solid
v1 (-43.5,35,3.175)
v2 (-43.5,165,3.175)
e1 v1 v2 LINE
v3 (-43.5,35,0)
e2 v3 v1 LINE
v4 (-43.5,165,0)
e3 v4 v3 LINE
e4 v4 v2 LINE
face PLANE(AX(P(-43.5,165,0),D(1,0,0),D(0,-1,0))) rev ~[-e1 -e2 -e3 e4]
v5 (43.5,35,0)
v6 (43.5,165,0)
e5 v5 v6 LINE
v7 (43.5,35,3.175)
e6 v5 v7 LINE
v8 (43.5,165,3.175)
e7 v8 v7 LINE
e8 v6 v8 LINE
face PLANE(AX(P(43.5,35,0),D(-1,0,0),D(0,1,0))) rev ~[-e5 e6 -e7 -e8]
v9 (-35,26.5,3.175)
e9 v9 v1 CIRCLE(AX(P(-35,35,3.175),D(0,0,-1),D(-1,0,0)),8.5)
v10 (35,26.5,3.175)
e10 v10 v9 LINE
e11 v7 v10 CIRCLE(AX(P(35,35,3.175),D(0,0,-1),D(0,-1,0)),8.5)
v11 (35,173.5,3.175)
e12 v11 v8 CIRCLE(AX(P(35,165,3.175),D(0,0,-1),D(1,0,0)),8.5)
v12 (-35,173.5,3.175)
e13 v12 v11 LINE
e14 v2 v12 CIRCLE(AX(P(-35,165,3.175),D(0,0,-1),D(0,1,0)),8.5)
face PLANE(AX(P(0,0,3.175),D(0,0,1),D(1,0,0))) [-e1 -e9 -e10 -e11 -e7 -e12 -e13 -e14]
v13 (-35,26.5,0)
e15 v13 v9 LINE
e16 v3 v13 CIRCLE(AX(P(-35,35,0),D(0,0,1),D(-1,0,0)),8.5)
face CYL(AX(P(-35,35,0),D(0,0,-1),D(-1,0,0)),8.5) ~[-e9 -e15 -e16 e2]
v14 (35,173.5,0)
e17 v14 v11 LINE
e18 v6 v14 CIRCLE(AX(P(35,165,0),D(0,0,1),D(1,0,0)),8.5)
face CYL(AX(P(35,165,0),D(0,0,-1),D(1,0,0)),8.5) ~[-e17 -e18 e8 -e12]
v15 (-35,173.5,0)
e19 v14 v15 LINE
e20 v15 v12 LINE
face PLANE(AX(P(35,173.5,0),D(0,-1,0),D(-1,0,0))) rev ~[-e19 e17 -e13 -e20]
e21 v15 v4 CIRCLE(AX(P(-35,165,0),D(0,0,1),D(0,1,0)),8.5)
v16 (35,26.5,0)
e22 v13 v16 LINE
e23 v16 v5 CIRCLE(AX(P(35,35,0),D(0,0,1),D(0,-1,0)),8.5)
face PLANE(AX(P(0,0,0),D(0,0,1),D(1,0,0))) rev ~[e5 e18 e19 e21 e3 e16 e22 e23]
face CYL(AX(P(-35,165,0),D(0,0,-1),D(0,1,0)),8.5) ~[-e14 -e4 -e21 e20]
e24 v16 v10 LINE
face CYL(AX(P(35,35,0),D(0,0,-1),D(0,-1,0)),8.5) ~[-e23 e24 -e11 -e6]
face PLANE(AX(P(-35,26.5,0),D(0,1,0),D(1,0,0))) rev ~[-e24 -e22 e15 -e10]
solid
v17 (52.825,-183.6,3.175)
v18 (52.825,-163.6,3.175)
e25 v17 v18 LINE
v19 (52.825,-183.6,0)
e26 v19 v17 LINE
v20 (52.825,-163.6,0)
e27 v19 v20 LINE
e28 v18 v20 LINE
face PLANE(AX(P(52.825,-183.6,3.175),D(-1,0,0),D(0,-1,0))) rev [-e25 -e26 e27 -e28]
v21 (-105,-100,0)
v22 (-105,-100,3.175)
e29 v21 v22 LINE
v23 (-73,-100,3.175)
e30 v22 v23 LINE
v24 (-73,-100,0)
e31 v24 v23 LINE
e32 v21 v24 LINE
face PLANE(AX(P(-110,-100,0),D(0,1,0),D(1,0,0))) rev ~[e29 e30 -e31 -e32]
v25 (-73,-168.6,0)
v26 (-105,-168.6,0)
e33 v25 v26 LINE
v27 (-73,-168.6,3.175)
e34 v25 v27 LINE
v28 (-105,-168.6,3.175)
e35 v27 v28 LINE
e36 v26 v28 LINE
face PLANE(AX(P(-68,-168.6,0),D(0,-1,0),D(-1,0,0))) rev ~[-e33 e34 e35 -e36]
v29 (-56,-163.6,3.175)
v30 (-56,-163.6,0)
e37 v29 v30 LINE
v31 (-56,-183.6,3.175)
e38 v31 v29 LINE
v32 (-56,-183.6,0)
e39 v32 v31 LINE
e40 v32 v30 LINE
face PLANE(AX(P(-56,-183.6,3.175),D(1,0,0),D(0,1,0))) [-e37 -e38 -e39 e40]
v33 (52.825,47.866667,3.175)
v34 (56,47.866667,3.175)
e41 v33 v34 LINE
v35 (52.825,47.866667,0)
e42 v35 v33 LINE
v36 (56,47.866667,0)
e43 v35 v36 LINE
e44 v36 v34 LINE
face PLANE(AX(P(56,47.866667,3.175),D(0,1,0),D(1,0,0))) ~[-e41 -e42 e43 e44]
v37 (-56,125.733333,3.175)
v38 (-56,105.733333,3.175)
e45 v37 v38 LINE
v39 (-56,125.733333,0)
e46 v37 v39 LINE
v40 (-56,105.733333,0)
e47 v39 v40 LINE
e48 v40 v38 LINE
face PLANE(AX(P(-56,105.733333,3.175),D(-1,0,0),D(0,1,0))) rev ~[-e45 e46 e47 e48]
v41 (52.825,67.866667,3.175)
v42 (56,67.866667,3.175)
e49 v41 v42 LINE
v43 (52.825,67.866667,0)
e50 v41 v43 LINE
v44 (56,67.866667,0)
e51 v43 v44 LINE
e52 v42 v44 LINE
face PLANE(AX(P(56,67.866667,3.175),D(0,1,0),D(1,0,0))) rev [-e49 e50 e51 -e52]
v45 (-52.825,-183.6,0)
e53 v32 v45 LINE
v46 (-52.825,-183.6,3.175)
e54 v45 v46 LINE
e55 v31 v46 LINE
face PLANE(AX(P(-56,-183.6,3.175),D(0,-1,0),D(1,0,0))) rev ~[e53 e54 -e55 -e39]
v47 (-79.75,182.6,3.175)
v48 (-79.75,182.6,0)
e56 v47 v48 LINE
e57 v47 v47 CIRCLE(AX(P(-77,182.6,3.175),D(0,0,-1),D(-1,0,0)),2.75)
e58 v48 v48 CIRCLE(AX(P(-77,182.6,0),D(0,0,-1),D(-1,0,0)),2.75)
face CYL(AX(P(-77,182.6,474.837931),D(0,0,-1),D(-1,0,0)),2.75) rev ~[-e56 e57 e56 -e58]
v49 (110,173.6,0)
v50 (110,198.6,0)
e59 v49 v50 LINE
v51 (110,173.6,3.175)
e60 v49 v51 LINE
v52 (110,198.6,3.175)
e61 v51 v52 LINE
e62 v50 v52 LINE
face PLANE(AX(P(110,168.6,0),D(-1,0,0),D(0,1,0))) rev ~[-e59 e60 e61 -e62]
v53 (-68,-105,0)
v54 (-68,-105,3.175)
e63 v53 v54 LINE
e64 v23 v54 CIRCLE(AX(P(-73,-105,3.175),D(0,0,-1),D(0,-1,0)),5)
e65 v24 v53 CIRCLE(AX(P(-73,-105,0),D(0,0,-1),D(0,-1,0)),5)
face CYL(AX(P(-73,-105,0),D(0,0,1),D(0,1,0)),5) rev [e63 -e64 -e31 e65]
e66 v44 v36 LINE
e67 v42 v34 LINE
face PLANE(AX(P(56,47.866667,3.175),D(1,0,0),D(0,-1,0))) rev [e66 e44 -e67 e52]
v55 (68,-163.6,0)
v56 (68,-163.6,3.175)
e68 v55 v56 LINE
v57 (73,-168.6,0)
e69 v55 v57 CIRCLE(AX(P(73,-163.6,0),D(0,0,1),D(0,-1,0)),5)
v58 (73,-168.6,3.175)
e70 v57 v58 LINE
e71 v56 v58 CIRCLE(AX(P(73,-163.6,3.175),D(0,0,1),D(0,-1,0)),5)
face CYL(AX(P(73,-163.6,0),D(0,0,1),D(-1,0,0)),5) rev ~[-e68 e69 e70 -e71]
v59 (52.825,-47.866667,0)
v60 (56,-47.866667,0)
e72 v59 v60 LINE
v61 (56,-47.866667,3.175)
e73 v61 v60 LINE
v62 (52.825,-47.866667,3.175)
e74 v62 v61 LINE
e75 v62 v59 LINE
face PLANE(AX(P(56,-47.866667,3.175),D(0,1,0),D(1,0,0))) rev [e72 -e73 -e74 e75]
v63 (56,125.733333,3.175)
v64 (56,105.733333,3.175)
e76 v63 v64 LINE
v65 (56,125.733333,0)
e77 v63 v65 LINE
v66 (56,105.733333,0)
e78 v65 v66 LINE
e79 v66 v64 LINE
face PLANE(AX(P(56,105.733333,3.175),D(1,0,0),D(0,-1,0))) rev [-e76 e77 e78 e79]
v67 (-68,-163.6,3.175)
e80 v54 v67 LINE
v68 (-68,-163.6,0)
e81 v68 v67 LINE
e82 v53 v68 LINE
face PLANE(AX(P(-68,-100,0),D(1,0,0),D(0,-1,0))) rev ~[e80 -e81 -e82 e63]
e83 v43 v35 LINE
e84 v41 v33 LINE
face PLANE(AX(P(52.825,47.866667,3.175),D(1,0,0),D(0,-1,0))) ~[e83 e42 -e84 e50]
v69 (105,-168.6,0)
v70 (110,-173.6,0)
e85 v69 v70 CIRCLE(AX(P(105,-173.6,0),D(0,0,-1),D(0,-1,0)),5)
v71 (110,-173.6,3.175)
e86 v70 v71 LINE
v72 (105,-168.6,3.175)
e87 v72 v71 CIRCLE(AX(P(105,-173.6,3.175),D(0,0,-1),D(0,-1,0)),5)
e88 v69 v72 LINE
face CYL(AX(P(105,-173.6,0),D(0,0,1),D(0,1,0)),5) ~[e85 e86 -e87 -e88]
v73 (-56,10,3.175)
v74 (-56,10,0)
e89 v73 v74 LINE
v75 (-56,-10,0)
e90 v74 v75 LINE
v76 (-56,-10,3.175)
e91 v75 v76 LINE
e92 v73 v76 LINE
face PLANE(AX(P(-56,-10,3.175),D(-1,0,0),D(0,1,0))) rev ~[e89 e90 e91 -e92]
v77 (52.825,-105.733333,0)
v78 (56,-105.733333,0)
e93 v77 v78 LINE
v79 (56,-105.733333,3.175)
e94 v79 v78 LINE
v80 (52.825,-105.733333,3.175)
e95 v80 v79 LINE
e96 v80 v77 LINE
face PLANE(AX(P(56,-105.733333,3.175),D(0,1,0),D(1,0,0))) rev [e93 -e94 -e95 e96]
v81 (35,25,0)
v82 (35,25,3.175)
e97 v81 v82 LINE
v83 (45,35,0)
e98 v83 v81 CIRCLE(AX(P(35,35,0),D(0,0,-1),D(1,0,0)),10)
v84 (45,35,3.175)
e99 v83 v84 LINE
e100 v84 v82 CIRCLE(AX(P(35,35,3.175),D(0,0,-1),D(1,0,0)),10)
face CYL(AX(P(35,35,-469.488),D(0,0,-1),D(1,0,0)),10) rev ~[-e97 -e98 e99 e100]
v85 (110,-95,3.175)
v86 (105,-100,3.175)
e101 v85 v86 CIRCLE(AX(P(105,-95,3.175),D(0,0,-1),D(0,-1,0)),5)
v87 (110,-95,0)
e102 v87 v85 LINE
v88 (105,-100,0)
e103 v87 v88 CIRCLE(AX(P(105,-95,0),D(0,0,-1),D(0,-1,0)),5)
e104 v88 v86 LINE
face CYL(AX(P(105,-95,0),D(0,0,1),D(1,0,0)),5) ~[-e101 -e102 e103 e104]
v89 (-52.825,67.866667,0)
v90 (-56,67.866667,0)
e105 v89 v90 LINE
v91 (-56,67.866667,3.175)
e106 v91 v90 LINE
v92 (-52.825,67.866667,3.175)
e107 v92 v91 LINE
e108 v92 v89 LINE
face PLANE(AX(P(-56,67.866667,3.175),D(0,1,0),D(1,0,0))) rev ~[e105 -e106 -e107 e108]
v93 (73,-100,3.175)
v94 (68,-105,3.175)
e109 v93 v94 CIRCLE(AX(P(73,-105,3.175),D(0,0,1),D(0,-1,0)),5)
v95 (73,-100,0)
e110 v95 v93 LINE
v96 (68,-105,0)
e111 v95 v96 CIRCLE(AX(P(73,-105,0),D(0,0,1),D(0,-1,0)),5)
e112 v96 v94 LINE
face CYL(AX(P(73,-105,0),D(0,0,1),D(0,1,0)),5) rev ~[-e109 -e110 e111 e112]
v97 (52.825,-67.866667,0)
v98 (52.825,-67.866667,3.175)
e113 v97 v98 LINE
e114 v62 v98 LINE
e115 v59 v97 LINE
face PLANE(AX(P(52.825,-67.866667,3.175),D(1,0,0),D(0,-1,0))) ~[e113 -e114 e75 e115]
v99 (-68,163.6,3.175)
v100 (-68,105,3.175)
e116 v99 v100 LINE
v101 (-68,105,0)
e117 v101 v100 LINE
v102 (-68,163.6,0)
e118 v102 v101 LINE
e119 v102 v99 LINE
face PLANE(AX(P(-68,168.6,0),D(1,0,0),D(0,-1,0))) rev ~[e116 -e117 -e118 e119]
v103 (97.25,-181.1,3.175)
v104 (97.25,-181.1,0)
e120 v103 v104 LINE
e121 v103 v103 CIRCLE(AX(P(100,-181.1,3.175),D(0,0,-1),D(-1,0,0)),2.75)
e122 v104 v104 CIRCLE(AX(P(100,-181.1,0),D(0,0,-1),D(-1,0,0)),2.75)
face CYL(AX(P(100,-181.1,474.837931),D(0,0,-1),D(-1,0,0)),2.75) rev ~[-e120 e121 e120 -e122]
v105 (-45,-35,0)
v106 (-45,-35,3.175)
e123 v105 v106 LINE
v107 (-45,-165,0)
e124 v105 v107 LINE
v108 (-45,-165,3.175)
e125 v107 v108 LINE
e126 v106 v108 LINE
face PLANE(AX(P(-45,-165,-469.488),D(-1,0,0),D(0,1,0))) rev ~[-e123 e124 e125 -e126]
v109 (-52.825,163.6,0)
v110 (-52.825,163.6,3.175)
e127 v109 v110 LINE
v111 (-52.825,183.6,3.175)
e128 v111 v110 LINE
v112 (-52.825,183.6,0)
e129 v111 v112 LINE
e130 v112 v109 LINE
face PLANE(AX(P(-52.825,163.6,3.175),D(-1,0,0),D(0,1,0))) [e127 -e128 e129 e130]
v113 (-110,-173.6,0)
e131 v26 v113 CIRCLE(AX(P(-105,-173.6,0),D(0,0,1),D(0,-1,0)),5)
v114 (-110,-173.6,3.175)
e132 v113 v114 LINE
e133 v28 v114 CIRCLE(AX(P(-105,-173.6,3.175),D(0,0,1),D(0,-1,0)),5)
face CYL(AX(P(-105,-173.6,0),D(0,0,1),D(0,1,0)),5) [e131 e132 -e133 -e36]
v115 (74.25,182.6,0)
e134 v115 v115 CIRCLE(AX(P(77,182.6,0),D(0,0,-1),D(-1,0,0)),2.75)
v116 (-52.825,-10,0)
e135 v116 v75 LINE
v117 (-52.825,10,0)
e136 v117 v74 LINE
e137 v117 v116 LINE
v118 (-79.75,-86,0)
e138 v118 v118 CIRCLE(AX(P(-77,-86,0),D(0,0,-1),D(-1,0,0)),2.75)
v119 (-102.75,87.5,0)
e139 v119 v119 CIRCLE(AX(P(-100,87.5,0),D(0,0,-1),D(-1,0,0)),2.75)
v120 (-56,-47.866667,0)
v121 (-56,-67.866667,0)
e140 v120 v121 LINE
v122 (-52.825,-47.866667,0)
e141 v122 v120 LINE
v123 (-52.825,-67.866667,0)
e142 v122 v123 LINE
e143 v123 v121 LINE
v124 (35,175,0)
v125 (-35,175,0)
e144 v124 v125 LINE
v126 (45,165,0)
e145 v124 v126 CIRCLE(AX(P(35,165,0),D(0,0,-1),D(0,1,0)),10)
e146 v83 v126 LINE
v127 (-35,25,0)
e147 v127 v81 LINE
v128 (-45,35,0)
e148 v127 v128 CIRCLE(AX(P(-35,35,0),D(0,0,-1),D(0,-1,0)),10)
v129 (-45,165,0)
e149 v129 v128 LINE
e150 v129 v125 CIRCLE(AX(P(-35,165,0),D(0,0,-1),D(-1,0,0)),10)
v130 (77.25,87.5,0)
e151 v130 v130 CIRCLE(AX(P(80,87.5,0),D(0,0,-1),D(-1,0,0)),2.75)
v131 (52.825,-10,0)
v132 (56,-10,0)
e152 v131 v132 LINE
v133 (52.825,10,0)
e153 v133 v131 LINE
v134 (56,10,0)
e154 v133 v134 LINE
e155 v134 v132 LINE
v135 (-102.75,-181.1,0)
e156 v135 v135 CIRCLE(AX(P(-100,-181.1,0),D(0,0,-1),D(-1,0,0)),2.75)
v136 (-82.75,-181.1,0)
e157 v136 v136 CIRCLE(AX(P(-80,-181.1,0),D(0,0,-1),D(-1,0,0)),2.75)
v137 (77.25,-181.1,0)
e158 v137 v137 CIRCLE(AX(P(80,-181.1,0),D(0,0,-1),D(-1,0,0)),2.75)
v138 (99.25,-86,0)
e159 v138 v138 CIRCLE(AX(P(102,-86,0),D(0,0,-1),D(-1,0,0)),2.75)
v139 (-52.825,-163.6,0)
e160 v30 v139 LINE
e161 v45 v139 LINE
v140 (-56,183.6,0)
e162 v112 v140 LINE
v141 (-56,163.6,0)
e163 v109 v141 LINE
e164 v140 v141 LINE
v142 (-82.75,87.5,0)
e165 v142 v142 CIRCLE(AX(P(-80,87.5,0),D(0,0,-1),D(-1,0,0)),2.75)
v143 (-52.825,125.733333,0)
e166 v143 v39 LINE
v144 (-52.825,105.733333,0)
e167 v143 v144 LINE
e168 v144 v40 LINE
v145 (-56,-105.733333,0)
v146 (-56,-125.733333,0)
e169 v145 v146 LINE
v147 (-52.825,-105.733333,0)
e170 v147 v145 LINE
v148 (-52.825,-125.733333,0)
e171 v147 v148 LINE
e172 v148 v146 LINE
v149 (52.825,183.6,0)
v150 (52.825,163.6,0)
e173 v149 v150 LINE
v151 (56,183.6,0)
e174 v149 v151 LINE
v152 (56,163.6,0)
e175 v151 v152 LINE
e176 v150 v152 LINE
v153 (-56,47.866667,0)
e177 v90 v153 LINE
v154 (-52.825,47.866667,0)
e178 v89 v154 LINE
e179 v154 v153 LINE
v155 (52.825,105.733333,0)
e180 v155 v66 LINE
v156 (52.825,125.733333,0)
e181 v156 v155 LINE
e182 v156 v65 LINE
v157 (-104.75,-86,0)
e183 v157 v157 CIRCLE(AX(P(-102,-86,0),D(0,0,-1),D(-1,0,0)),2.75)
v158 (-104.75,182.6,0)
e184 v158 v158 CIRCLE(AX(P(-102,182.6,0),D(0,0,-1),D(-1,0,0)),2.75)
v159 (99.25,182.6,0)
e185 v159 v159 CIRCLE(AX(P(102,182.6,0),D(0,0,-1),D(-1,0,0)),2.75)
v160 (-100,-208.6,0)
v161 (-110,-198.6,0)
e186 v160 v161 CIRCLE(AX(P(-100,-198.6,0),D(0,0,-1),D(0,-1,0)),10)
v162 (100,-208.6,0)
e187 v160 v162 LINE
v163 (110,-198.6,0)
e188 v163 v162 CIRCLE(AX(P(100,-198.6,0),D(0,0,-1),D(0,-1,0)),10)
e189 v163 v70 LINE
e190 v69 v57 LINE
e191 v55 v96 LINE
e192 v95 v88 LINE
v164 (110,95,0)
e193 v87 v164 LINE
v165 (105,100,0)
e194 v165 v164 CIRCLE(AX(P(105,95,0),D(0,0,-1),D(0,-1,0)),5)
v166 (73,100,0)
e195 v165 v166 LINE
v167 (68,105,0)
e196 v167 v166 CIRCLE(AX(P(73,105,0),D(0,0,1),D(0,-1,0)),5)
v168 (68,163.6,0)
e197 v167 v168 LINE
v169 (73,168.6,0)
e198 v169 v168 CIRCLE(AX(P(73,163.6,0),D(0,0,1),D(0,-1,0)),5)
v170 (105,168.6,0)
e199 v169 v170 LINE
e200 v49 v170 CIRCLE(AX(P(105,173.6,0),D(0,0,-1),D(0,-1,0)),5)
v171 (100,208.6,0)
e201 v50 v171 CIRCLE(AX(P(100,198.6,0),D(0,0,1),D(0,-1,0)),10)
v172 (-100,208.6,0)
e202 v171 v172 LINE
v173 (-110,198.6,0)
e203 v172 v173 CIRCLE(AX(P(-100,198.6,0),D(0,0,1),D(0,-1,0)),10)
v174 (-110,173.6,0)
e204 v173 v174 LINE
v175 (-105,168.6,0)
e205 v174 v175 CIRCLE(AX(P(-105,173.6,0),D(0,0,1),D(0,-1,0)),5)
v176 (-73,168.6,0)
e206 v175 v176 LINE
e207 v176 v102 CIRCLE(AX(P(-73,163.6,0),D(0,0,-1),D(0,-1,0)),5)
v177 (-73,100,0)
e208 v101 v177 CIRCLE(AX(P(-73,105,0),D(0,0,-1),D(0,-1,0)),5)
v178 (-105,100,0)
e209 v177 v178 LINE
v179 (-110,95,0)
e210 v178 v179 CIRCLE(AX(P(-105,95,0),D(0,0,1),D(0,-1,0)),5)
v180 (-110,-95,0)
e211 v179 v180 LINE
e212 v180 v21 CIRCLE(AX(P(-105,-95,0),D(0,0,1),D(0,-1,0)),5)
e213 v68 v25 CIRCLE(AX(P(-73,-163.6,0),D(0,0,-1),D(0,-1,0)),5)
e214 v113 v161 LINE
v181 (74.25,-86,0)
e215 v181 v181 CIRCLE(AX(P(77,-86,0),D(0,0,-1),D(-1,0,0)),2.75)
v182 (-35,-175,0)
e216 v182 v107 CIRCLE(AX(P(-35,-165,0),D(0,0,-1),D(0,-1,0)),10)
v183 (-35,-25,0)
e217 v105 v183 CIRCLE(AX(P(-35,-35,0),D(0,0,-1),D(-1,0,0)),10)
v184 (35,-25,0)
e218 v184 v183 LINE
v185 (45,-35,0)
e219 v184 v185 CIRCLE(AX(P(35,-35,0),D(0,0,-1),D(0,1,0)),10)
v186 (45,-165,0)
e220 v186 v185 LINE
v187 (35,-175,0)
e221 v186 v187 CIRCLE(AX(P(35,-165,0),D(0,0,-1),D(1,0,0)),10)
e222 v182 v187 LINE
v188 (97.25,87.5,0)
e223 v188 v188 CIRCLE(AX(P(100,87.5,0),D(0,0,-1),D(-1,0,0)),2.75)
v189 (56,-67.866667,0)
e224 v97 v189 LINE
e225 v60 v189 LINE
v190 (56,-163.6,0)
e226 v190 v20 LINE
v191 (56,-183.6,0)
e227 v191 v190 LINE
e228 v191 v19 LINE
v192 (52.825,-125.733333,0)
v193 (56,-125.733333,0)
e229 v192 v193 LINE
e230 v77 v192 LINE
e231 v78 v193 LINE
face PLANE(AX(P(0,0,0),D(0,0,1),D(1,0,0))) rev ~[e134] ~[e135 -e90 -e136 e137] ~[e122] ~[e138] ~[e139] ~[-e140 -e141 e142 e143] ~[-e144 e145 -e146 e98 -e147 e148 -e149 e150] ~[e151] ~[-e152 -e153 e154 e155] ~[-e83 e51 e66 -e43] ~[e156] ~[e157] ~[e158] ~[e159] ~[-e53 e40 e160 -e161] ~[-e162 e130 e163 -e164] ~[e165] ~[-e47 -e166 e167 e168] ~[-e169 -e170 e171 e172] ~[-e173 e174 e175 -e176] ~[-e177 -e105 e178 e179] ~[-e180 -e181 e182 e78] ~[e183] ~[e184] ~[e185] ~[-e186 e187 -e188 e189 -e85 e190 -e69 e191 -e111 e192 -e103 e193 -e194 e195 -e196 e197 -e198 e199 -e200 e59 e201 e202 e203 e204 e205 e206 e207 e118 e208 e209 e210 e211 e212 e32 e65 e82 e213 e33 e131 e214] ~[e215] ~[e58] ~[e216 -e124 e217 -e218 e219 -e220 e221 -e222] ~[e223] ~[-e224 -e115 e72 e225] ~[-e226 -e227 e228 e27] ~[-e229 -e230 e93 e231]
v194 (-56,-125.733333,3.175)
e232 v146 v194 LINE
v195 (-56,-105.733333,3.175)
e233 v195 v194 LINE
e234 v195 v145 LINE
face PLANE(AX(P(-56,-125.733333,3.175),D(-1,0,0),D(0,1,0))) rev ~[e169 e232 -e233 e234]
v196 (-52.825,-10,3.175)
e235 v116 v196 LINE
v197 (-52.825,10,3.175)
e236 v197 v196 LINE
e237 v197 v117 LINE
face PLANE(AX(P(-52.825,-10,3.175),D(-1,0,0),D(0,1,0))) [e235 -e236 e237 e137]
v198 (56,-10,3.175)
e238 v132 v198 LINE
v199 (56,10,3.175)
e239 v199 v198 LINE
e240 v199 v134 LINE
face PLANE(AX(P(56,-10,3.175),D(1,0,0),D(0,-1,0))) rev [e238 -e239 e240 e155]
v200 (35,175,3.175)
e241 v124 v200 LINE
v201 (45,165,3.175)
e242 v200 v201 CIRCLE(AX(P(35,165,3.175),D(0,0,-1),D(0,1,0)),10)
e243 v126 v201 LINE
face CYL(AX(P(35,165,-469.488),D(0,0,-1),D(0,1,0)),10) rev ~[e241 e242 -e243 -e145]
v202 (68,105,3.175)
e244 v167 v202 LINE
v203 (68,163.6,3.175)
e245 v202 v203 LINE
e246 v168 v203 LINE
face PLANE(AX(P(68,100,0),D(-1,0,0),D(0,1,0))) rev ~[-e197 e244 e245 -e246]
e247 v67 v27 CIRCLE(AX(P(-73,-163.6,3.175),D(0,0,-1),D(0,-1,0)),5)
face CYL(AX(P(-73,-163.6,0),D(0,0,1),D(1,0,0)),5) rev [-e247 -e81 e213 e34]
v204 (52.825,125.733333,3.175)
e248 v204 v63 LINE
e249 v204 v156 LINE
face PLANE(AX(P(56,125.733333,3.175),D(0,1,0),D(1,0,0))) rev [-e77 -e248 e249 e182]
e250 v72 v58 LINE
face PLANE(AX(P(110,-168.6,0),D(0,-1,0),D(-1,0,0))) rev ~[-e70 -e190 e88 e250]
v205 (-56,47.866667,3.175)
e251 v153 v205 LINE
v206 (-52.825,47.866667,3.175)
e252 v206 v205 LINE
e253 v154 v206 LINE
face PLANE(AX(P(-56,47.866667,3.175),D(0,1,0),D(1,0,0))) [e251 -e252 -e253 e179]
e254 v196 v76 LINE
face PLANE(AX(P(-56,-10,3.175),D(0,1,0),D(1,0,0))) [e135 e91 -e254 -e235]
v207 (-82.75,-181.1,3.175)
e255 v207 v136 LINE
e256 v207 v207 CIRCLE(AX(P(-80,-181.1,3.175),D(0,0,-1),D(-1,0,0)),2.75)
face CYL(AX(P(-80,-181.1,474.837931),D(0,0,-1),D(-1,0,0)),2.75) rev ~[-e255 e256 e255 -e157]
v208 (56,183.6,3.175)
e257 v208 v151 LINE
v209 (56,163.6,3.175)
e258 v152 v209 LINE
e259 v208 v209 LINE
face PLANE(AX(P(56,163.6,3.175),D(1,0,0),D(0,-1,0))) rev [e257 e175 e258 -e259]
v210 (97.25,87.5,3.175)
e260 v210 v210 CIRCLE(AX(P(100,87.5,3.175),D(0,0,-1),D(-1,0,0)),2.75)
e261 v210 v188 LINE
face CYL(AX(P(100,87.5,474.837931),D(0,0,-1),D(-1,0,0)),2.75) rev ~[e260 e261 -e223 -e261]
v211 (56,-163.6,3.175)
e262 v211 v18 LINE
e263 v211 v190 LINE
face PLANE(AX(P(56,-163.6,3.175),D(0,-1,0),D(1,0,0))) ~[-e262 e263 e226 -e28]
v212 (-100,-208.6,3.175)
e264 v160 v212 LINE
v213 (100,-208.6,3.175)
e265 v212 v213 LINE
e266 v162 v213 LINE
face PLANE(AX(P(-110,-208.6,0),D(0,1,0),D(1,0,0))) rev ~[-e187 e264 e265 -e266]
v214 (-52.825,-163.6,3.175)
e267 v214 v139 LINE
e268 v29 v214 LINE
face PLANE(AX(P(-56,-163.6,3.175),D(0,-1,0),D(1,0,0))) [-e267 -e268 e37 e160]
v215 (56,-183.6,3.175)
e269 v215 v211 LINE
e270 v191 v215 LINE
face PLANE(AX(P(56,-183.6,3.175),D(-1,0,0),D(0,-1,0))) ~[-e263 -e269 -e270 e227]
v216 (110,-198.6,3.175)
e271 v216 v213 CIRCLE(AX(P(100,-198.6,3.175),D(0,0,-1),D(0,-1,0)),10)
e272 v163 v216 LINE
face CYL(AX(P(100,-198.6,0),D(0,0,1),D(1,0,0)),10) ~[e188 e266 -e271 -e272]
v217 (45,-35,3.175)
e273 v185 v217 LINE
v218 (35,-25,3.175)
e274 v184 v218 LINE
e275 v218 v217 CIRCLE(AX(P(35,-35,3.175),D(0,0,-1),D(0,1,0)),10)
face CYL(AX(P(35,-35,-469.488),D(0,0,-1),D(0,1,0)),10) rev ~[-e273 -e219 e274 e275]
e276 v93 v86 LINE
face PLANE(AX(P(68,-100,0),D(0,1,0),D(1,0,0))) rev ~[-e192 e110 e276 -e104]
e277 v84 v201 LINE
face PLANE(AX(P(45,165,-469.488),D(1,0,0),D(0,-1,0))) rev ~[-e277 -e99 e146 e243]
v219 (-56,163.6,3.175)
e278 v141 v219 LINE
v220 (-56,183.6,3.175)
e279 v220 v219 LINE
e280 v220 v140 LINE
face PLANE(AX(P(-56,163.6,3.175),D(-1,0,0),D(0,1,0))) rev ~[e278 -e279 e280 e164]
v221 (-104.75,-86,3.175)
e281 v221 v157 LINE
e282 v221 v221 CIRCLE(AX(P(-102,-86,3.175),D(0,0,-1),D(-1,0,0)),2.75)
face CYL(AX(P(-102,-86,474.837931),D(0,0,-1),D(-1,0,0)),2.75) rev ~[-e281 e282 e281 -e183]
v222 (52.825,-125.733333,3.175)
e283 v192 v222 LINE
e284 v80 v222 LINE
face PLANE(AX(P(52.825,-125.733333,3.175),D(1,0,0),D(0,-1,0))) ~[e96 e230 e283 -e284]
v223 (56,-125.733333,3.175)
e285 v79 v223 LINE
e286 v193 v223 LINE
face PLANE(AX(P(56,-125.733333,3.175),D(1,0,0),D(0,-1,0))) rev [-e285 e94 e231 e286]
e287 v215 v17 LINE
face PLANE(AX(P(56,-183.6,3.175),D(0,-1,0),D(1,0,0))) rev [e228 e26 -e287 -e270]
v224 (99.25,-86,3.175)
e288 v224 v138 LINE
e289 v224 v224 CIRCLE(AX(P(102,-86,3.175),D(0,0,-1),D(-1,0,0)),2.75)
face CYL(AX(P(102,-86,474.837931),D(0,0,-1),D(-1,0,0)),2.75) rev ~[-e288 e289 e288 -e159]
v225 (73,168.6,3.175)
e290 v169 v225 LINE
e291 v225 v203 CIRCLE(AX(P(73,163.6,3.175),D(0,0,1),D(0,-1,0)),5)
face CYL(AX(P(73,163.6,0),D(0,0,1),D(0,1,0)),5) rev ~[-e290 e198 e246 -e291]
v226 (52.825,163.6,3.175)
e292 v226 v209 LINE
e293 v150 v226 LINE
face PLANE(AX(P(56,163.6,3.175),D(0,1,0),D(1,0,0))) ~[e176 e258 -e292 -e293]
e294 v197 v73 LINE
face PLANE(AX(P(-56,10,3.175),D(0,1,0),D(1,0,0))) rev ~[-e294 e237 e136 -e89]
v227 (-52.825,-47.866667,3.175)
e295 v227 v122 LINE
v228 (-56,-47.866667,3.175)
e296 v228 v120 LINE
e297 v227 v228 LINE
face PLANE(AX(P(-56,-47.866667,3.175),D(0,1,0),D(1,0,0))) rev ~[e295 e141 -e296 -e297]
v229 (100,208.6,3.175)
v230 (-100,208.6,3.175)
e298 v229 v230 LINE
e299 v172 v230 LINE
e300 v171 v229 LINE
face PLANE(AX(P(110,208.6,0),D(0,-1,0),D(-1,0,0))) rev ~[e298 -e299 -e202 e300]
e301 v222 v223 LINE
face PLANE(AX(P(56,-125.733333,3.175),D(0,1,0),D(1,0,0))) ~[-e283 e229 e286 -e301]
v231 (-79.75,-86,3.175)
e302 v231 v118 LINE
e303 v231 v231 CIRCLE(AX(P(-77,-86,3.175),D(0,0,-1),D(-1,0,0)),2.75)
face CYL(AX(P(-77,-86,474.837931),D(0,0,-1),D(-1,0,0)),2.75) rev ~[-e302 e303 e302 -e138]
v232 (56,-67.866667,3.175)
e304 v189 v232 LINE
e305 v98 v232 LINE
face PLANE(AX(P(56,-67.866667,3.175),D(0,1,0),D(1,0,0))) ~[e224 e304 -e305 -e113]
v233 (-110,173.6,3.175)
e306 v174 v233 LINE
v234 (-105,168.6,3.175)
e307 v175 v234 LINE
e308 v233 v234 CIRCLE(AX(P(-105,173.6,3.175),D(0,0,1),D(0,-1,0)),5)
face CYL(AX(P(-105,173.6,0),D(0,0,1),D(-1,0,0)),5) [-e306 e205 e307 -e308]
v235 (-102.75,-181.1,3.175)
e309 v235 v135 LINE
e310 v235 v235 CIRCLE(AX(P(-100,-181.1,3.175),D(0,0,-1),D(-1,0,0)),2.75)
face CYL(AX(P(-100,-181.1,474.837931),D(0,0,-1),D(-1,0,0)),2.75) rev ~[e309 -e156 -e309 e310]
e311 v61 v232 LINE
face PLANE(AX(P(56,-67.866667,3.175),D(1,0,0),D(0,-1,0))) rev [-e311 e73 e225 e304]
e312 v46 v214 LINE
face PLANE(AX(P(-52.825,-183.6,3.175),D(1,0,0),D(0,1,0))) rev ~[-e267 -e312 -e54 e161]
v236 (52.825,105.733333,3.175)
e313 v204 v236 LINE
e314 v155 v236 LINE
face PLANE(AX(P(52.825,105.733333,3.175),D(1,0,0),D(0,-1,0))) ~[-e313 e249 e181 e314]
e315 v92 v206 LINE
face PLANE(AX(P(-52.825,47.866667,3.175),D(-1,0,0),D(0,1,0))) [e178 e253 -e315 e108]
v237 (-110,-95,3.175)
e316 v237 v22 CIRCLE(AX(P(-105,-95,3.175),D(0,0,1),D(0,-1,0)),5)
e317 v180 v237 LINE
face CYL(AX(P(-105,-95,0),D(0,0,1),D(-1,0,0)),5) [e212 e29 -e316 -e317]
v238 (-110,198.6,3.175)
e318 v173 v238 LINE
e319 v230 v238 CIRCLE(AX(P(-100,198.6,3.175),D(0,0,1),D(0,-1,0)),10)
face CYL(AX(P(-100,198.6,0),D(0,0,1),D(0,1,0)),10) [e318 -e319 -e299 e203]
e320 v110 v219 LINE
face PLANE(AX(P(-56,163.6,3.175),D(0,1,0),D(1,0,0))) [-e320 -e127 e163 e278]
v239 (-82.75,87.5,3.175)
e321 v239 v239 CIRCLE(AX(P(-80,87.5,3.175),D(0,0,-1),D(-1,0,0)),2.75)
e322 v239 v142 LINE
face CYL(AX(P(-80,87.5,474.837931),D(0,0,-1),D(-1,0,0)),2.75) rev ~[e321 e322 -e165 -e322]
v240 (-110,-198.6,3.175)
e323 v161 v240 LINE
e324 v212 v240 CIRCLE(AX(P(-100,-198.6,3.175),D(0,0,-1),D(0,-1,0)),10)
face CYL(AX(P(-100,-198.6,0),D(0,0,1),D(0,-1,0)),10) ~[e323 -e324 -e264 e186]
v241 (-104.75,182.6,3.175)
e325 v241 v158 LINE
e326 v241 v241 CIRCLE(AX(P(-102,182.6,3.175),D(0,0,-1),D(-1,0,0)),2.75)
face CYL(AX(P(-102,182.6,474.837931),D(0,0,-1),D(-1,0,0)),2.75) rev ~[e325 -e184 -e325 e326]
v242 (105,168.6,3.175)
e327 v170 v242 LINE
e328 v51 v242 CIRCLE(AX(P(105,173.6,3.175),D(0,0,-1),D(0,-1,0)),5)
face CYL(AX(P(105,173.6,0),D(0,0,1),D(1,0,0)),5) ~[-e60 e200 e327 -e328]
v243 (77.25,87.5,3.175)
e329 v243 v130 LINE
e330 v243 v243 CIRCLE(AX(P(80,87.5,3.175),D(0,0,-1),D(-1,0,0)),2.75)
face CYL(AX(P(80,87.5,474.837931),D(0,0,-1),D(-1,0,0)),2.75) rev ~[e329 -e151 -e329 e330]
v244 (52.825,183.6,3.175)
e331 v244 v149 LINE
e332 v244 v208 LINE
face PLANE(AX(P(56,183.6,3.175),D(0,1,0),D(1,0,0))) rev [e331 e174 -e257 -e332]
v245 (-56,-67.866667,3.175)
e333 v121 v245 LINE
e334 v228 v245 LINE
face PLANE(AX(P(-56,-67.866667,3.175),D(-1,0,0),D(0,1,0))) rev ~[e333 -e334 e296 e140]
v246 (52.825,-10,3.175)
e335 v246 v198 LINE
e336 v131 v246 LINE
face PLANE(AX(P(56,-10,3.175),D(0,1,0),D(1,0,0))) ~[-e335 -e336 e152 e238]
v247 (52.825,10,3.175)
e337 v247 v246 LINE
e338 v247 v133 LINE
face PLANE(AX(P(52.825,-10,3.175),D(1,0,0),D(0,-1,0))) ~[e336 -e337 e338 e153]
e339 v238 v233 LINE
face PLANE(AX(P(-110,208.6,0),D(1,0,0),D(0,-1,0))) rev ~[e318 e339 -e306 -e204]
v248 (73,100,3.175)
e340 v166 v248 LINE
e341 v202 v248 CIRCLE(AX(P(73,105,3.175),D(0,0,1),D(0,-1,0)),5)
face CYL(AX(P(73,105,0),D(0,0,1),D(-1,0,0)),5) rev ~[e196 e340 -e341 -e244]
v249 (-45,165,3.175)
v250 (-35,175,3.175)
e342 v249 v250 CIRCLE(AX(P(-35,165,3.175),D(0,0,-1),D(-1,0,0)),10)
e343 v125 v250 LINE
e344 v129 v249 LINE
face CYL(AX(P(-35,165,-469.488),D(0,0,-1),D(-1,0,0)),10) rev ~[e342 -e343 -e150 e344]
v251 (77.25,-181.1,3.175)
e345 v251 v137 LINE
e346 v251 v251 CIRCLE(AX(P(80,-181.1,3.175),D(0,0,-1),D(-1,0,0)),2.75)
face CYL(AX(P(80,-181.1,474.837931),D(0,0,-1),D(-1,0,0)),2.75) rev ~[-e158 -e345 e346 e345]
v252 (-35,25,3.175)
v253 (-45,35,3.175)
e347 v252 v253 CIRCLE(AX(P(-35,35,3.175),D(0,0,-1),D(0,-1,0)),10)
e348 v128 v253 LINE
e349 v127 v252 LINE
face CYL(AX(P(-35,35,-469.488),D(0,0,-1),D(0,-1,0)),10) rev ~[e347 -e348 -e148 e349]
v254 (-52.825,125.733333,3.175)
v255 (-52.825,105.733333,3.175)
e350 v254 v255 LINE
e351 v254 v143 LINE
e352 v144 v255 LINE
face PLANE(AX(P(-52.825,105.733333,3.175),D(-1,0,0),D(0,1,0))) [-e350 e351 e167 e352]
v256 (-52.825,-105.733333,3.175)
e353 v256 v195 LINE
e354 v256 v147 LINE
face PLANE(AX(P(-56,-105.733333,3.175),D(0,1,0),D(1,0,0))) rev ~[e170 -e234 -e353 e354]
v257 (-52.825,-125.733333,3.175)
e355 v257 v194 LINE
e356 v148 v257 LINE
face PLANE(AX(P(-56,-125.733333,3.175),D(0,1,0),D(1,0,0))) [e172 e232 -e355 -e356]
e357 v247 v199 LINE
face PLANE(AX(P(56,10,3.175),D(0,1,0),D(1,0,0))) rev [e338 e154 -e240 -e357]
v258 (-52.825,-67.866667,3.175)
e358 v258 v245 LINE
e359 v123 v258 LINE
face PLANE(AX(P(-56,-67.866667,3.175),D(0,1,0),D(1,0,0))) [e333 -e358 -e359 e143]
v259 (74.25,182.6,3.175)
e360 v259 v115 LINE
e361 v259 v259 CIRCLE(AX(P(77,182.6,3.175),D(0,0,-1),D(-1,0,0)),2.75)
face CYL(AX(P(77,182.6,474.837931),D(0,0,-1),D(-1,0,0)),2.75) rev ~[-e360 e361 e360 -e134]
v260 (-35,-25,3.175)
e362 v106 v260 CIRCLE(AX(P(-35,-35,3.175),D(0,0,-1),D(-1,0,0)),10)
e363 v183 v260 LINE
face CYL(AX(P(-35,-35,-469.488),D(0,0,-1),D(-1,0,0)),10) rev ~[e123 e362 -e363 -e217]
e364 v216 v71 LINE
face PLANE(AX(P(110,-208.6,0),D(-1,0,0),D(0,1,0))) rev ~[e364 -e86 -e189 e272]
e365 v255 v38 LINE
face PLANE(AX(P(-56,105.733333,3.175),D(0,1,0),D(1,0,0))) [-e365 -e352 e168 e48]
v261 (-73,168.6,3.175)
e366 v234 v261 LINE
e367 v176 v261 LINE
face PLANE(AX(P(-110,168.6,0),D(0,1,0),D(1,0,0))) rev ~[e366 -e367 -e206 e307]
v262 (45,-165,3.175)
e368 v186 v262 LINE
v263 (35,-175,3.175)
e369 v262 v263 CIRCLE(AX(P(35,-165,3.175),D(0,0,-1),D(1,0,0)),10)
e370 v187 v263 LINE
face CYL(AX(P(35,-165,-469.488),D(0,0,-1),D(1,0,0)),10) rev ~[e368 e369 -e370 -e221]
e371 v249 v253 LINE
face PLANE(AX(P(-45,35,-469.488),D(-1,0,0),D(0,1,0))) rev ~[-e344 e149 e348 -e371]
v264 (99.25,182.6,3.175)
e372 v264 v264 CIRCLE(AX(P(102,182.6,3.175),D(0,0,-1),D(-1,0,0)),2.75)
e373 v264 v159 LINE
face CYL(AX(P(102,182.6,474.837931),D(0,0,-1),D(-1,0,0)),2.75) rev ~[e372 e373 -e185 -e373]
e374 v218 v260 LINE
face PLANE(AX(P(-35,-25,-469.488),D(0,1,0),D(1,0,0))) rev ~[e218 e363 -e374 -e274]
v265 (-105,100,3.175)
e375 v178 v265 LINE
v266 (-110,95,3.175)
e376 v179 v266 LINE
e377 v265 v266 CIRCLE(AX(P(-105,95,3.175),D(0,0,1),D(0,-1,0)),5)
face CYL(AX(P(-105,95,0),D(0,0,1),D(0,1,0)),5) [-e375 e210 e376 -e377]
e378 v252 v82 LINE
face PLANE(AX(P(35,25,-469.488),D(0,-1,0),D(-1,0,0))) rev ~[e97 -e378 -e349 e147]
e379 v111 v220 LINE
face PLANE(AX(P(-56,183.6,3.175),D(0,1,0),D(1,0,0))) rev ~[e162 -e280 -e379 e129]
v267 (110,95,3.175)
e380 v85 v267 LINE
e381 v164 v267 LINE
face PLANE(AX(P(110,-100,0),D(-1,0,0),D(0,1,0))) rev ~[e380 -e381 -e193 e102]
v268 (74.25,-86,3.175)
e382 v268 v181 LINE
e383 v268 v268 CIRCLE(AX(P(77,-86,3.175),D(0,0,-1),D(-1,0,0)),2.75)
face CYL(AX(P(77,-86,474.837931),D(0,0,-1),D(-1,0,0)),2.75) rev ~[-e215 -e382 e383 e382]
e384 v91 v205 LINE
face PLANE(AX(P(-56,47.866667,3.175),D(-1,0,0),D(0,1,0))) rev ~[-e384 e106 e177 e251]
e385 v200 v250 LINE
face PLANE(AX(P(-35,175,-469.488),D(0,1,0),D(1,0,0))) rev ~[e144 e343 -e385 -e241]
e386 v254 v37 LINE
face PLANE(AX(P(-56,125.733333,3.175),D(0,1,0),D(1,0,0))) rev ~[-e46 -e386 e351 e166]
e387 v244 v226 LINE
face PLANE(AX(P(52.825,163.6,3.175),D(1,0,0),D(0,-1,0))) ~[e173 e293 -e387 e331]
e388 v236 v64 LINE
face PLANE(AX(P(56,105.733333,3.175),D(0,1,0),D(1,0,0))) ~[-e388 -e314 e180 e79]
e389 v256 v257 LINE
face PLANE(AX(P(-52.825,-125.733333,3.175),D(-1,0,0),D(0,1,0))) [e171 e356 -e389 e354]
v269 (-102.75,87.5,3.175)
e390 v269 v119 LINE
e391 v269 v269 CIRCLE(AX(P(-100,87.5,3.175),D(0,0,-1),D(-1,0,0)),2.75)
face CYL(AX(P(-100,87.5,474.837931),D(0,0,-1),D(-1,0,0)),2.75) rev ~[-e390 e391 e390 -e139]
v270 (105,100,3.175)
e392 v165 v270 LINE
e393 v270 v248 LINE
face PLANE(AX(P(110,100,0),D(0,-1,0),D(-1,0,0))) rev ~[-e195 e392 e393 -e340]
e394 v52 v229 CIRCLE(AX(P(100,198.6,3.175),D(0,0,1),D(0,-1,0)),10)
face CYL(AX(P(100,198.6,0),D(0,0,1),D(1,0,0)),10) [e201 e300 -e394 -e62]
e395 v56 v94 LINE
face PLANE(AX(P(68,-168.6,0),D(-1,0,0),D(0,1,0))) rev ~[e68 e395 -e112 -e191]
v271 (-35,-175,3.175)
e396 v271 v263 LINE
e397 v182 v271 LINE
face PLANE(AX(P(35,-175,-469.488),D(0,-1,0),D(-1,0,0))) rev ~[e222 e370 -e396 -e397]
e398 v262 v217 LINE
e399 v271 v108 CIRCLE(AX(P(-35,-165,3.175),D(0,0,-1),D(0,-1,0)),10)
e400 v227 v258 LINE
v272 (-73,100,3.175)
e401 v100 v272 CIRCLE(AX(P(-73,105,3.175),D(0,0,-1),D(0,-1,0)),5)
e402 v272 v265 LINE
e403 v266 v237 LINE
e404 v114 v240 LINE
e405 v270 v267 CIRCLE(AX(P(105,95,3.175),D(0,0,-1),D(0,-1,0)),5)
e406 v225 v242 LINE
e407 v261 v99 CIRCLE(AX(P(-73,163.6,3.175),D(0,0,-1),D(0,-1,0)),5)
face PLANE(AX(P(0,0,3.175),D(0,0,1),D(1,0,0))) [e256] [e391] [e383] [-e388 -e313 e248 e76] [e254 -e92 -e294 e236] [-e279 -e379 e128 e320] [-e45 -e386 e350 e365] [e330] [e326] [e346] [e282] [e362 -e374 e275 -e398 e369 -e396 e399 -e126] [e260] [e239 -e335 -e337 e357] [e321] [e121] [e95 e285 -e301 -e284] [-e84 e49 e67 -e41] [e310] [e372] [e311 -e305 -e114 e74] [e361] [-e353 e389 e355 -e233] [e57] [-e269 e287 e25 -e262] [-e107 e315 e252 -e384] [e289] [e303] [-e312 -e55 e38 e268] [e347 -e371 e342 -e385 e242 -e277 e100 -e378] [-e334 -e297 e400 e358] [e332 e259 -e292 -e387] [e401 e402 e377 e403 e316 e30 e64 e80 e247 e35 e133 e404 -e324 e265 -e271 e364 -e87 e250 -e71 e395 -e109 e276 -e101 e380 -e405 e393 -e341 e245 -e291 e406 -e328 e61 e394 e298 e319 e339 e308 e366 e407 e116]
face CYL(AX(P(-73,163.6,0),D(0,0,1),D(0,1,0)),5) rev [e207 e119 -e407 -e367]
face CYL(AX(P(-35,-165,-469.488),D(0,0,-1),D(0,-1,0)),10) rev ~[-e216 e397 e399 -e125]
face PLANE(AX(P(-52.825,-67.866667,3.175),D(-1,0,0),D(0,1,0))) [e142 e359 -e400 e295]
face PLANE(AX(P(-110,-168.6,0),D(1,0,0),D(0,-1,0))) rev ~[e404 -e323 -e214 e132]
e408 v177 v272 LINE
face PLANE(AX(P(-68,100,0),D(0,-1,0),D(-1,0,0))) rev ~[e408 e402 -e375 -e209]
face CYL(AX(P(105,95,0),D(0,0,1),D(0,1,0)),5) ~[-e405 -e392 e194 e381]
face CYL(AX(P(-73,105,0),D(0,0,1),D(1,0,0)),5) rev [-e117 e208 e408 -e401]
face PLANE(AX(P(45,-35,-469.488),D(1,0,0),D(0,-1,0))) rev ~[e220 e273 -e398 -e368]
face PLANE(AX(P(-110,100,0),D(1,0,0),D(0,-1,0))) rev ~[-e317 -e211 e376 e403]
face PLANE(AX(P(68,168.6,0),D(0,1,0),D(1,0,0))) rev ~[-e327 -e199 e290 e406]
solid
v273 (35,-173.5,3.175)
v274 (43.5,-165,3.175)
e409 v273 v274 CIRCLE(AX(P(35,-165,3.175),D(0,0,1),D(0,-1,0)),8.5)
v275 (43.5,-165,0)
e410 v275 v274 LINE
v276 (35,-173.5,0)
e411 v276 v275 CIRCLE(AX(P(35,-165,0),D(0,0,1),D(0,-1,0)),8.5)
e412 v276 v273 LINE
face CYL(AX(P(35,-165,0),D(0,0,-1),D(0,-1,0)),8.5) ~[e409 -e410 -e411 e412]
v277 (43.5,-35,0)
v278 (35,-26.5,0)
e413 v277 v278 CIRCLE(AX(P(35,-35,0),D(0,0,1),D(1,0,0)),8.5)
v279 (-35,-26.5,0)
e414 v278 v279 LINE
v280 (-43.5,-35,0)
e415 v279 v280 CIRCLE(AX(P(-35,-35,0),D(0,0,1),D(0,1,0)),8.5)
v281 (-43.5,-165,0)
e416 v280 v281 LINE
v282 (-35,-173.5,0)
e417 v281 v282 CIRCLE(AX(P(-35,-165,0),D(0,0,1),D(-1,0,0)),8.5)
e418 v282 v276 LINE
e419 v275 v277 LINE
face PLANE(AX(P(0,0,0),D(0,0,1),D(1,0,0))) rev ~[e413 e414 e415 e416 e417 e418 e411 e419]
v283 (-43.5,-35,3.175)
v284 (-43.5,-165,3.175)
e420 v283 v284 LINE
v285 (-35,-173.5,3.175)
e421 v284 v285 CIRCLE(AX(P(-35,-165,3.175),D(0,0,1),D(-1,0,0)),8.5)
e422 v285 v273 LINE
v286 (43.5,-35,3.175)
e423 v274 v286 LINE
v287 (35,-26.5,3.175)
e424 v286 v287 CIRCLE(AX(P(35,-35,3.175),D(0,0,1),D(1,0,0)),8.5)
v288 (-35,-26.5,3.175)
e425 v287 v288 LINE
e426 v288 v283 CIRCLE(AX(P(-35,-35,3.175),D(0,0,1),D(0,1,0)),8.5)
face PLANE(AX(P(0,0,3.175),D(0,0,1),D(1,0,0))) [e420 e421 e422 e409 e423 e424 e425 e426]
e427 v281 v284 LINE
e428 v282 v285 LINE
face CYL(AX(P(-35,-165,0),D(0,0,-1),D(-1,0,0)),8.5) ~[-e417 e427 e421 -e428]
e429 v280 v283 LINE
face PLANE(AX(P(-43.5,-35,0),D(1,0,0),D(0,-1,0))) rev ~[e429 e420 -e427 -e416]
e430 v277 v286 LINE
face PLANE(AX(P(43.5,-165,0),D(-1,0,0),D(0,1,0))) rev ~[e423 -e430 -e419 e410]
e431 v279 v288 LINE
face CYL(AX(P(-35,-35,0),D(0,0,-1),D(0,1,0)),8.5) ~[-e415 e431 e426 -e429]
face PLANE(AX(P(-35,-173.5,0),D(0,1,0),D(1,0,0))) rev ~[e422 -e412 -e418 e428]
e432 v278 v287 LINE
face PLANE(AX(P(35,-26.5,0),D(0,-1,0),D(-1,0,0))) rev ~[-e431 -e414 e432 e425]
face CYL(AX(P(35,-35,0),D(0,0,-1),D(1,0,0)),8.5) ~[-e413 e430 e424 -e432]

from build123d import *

# Parameters (mm, degrees)
BOSS_EXTRU_1_DEPTH       = 3.175
ESQUISSE2_W              = 3.175
ESQUISSE2_H              = 20
ENL_V_MAT_EXTRU_1_DEPTH  = 236.847494422
D_GAGEMENT_M51_D         = 5.5
CONG_1_R                 = 5
CONG_2_R                 = 10
SPLIT1_SURFACE_1_1_BACK  = 472.663
SPLIT1_SURFACE_1_1_DEPTH = 945.326
SPLIT1_SURFACE_1_2_BACK  = 472.663
SPLIT1_SURFACE_1_2_DEPTH = 945.326
SPLIT1_SURFACE_2_3_BACK  = 472.663
SPLIT1_SURFACE_2_3_DEPTH = 945.326
SPLIT1_SURFACE_2_4_BACK  = 472.663
SPLIT1_SURFACE_2_4_DEPTH = 945.326
CUT_EXTRUDE2_DEPTH       = 236.847494422
CUT_EXTRUDE2_DEPTH_BACK  = 3.175
CUT_EXTRUDE3_START       = -3.175
CUT_EXTRUDE3_DEPTH       = 3.175


with BuildPart() as part:
    # Esquisse1 → Boss.-Extru.1 (new body)
    with BuildSketch(Plane.XY):
        Polygon((110, 208.6), (-110, 208.6), (-110, 168.6), (-68, 168.6), (-68, 100), (-110, 100), (-110, -100), (-68, -100), (-68, -168.6), (-110, -168.6), (-110, -208.6), (110, -208.6), (110, -168.6), (68, -168.6), (68, -100), (110, -100), (110, 100), (68, 100), (68, 168.6), (110, 168.6), align=None)
    extrude(amount=BOSS_EXTRU_1_DEPTH)

    # Esquisse2 → Enlèv. mat.-Extru.1 (cut, symmetric)
    with BuildSketch(Plane.XY.offset(3.175)):
        with Locations((-54.4125, 173.6)):
            Rectangle(ESQUISSE2_W, ESQUISSE2_H)
        with Locations((-54.4125, 115.733333333)):
            Rectangle(ESQUISSE2_W, ESQUISSE2_H)
        with Locations((-54.4125, 57.866666667)):
            Rectangle(ESQUISSE2_W, ESQUISSE2_H)
        with Locations((-54.4125, 0)):
            Rectangle(ESQUISSE2_W, ESQUISSE2_H)
        with Locations((-54.4125, -57.866666667)):
            Rectangle(ESQUISSE2_W, ESQUISSE2_H)
        with Locations((-54.4125, -115.733333333)):
            Rectangle(ESQUISSE2_W, ESQUISSE2_H)
        with Locations((-54.4125, -173.6)):
            Rectangle(ESQUISSE2_W, ESQUISSE2_H)
    enl_v_mat_extru_1 = extrude(amount=ENL_V_MAT_EXTRU_1_DEPTH, both=True, mode=Mode.SUBTRACT)

    # Symétrie1: Enlèv. mat.-Extru.1 across plane
    add(enl_v_mat_extru_1.mirror(Plane(origin=(0, 0, 0), x_dir=(0, 0, 1), z_dir=(1, 0, 0))), mode=Mode.SUBTRACT)

    # Dégagement M51 (through all)
    with Locations(Plane(origin=(100, -181.1, 3.175), x_dir=(1, 0, 0), z_dir=(0, 0, 1))):
        with Locations((0, 0), (-20, 0), (-200, 0), (-180, 0), (-202, 95.1), (-177, 95.1), (-23, 95.1), (2, 95.1), (-20, 268.6), (0, 268.6), (-23, 363.7), (2, 363.7), (-200, 268.6), (-180, 268.6), (-202, 363.7), (-177, 363.7)):
            Hole(D_GAGEMENT_M51_D / 2)

    # Congé1
    cong_1_edges = [part.edges().sort_by_distance(p)[0] for p in [
        (110, 168.6, 1.5875),
        (68, 168.6, 1.5875),
        (68, 100, 1.5875),
        (110, 100, 1.5875),
        (110, -100, 1.5875),
        (68, -100, 1.5875),
        (68, -168.6, 1.5875),
        (110, -168.6, 1.5875),
        (-110, -168.6, 1.5875),
        (-68, -168.6, 1.5875),
        (-68, -100, 1.5875),
        (-110, -100, 1.5875),
        (-110, 100, 1.5875),
        (-68, 100, 1.5875),
        (-68, 168.6, 1.5875),
        (-110, 168.6, 1.5875),
    ]]
    fillet(cong_1_edges, radius=CONG_1_R)

    # Congé2
    cong_2_edges = [part.edges().sort_by_distance(p)[0] for p in [
        (110, -208.6, 1.5875),
        (-110, -208.6, 1.5875),
        (-110, 208.6, 1.5875),
        (110, 208.6, 1.5875),
    ]]
    fillet(cong_2_edges, radius=CONG_2_R)


with BuildPart() as body_2:
    # Split1: the piece behind the surface
    add(part.part)
    # Split1 surface 1: a surface, the sketch's curves swept straight by 945.326 mm
    with BuildLine(Plane.XY.offset(3.175).offset(-SPLIT1_SURFACE_1_1_BACK), mode=Mode.PRIVATE) as split1_surface_1_1_path:
        ThreePointArc((35, -25), (42.071067812, -27.928932188), (45, -35))
        Line((45, -35), (45, -165))
        ThreePointArc((45, -165), (42.071067812, -172.071067812), (35, -175))
        Line((35, -175), (-35, -175))
        ThreePointArc((-35, -175), (-42.071067812, -172.071067812), (-45, -165))
        Line((-45, -165), (-45, -35))
        ThreePointArc((-45, -35), (-42.071067812, -27.928932188), (-35, -25))
        Line((-35, -25), (35, -25))
    split1_surface_1_1 = Shell.extrude(split1_surface_1_1_path.wire(), (0 * SPLIT1_SURFACE_1_1_DEPTH, 0 * SPLIT1_SURFACE_1_1_DEPTH, 1 * SPLIT1_SURFACE_1_1_DEPTH))
    split(bisect_by=split1_surface_1_1, keep=Keep.BOTTOM)

    # Sketch6 → Cut-Extrude3 (cut)
    with BuildSketch(Plane.XY.offset(3.175).offset(CUT_EXTRUDE3_START)):
        with BuildLine():
            Line((-45, -35), (-45, -165))
            ThreePointArc((-45, -165), (-42.071067812, -172.071067812), (-35, -175))
            Line((-35, -175), (35, -175))
            ThreePointArc((35, -175), (42.071067812, -172.071067812), (45, -165))
            Line((45, -165), (45, -35))
            ThreePointArc((45, -35), (42.071067812, -27.928932188), (35, -25))
            Line((35, -25), (-35, -25))
            ThreePointArc((-35, -25), (-42.071067812, -27.928932188), (-45, -35))
        make_face()
        with BuildLine():
            Line((-43.5, -35), (-43.5, -165))
            ThreePointArc((-43.5, -165), (-41.01040764, -171.01040764), (-35, -173.5))
            Line((-35, -173.5), (35, -173.5))
            ThreePointArc((35, -173.5), (41.01040764, -171.01040764), (43.5, -165))
            Line((43.5, -165), (43.5, -35))
            ThreePointArc((43.5, -35), (41.01040764, -28.98959236), (35, -26.5))
            Line((35, -26.5), (-35, -26.5))
            ThreePointArc((-35, -26.5), (-41.01040764, -28.98959236), (-43.5, -35))
        make_face(mode=Mode.SUBTRACT)
    extrude(amount=CUT_EXTRUDE3_DEPTH, mode=Mode.SUBTRACT)


with BuildPart() as part_1:
    add(part.part)

    # Split1: split by a surface, the side it looks to stays
    # Split1 surface 1: a surface, the sketch's curves swept straight by 945.326 mm
    with BuildLine(Plane.XY.offset(3.175).offset(-SPLIT1_SURFACE_1_2_BACK), mode=Mode.PRIVATE) as split1_surface_1_2_path:
        ThreePointArc((35, -25), (42.071067812, -27.928932188), (45, -35))
        Line((45, -35), (45, -165))
        ThreePointArc((45, -165), (42.071067812, -172.071067812), (35, -175))
        Line((35, -175), (-35, -175))
        ThreePointArc((-35, -175), (-42.071067812, -172.071067812), (-45, -165))
        Line((-45, -165), (-45, -35))
        ThreePointArc((-45, -35), (-42.071067812, -27.928932188), (-35, -25))
        Line((-35, -25), (35, -25))
    split1_surface_1_2 = Shell.extrude(split1_surface_1_2_path.wire(), (0 * SPLIT1_SURFACE_1_2_DEPTH, 0 * SPLIT1_SURFACE_1_2_DEPTH, 1 * SPLIT1_SURFACE_1_2_DEPTH))
    split(bisect_by=split1_surface_1_2, keep=Keep.TOP)


with BuildPart() as body_3:
    # Split1 2: the piece behind the surface
    add(part_1.part)
    # Split1 surface 2: a surface, the sketch's curves swept straight by 945.326 mm
    with BuildLine(Plane.XY.offset(3.175).offset(-SPLIT1_SURFACE_2_3_BACK), mode=Mode.PRIVATE) as split1_surface_2_3_path:
        ThreePointArc((-35, 25), (-42.071067812, 27.928932188), (-45, 35))
        Line((-45, 35), (-45, 165))
        ThreePointArc((-45, 165), (-42.071067812, 172.071067812), (-35, 175))
        Line((-35, 175), (35, 175))
        ThreePointArc((35, 175), (42.071067812, 172.071067812), (45, 165))
        Line((45, 165), (45, 35))
        ThreePointArc((45, 35), (42.071067812, 27.928932188), (35, 25))
        Line((35, 25), (-35, 25))
    split1_surface_2_3 = Shell.extrude(split1_surface_2_3_path.wire(), (0 * SPLIT1_SURFACE_2_3_DEPTH, 0 * SPLIT1_SURFACE_2_3_DEPTH, 1 * SPLIT1_SURFACE_2_3_DEPTH))
    split(bisect_by=split1_surface_2_3, keep=Keep.BOTTOM)

    # Sketch3 → Cut-Extrude2 (cut, two sides: drawn at the far end of the back side and taken through both)
    with BuildSketch(Plane.XY.offset(3.175).offset(-CUT_EXTRUDE2_DEPTH_BACK)):
        with BuildLine():
            Line((45, 35), (45, 165))
            ThreePointArc((45, 165), (42.071067812, 172.071067812), (35, 175))
            Line((35, 175), (-35, 175))
            ThreePointArc((-35, 175), (-42.071067812, 172.071067812), (-45, 165))
            Line((-45, 165), (-45, 35))
            ThreePointArc((-45, 35), (-42.071067812, 27.928932188), (-35, 25))
            Line((-35, 25), (35, 25))
            ThreePointArc((35, 25), (42.071067812, 27.928932188), (45, 35))
        make_face()
        with BuildLine():
            Line((43.5, 35), (43.5, 165))
            ThreePointArc((43.5, 165), (41.01040764, 171.01040764), (35, 173.5))
            Line((35, 173.5), (-35, 173.5))
            ThreePointArc((-35, 173.5), (-41.01040764, 171.01040764), (-43.5, 165))
            Line((-43.5, 165), (-43.5, 35))
            ThreePointArc((-43.5, 35), (-41.01040764, 28.98959236), (-35, 26.5))
            Line((-35, 26.5), (35, 26.5))
            ThreePointArc((35, 26.5), (41.01040764, 28.98959236), (43.5, 35))
        make_face(mode=Mode.SUBTRACT)
    extrude(amount=CUT_EXTRUDE2_DEPTH + CUT_EXTRUDE2_DEPTH_BACK, mode=Mode.SUBTRACT)


with BuildPart() as part_2:
    add(part_1.part)

    # Split1 2: split by a surface, the side it looks to stays
    # Split1 surface 2: a surface, the sketch's curves swept straight by 945.326 mm
    with BuildLine(Plane.XY.offset(3.175).offset(-SPLIT1_SURFACE_2_4_BACK), mode=Mode.PRIVATE) as split1_surface_2_4_path:
        ThreePointArc((-35, 25), (-42.071067812, 27.928932188), (-45, 35))
        Line((-45, 35), (-45, 165))
        ThreePointArc((-45, 165), (-42.071067812, 172.071067812), (-35, 175))
        Line((-35, 175), (35, 175))
        ThreePointArc((35, 175), (42.071067812, 172.071067812), (45, 165))
        Line((45, 165), (45, 35))
        ThreePointArc((45, 35), (42.071067812, 27.928932188), (35, 25))
        Line((35, 25), (-35, 25))
    split1_surface_2_4 = Shell.extrude(split1_surface_2_4_path.wire(), (0 * SPLIT1_SURFACE_2_4_DEPTH, 0 * SPLIT1_SURFACE_2_4_DEPTH, 1 * SPLIT1_SURFACE_2_4_DEPTH))
    split(bisect_by=split1_surface_2_4, keep=Keep.TOP)


solid = Compound([body_2.part, body_3.part, part_2.part])
